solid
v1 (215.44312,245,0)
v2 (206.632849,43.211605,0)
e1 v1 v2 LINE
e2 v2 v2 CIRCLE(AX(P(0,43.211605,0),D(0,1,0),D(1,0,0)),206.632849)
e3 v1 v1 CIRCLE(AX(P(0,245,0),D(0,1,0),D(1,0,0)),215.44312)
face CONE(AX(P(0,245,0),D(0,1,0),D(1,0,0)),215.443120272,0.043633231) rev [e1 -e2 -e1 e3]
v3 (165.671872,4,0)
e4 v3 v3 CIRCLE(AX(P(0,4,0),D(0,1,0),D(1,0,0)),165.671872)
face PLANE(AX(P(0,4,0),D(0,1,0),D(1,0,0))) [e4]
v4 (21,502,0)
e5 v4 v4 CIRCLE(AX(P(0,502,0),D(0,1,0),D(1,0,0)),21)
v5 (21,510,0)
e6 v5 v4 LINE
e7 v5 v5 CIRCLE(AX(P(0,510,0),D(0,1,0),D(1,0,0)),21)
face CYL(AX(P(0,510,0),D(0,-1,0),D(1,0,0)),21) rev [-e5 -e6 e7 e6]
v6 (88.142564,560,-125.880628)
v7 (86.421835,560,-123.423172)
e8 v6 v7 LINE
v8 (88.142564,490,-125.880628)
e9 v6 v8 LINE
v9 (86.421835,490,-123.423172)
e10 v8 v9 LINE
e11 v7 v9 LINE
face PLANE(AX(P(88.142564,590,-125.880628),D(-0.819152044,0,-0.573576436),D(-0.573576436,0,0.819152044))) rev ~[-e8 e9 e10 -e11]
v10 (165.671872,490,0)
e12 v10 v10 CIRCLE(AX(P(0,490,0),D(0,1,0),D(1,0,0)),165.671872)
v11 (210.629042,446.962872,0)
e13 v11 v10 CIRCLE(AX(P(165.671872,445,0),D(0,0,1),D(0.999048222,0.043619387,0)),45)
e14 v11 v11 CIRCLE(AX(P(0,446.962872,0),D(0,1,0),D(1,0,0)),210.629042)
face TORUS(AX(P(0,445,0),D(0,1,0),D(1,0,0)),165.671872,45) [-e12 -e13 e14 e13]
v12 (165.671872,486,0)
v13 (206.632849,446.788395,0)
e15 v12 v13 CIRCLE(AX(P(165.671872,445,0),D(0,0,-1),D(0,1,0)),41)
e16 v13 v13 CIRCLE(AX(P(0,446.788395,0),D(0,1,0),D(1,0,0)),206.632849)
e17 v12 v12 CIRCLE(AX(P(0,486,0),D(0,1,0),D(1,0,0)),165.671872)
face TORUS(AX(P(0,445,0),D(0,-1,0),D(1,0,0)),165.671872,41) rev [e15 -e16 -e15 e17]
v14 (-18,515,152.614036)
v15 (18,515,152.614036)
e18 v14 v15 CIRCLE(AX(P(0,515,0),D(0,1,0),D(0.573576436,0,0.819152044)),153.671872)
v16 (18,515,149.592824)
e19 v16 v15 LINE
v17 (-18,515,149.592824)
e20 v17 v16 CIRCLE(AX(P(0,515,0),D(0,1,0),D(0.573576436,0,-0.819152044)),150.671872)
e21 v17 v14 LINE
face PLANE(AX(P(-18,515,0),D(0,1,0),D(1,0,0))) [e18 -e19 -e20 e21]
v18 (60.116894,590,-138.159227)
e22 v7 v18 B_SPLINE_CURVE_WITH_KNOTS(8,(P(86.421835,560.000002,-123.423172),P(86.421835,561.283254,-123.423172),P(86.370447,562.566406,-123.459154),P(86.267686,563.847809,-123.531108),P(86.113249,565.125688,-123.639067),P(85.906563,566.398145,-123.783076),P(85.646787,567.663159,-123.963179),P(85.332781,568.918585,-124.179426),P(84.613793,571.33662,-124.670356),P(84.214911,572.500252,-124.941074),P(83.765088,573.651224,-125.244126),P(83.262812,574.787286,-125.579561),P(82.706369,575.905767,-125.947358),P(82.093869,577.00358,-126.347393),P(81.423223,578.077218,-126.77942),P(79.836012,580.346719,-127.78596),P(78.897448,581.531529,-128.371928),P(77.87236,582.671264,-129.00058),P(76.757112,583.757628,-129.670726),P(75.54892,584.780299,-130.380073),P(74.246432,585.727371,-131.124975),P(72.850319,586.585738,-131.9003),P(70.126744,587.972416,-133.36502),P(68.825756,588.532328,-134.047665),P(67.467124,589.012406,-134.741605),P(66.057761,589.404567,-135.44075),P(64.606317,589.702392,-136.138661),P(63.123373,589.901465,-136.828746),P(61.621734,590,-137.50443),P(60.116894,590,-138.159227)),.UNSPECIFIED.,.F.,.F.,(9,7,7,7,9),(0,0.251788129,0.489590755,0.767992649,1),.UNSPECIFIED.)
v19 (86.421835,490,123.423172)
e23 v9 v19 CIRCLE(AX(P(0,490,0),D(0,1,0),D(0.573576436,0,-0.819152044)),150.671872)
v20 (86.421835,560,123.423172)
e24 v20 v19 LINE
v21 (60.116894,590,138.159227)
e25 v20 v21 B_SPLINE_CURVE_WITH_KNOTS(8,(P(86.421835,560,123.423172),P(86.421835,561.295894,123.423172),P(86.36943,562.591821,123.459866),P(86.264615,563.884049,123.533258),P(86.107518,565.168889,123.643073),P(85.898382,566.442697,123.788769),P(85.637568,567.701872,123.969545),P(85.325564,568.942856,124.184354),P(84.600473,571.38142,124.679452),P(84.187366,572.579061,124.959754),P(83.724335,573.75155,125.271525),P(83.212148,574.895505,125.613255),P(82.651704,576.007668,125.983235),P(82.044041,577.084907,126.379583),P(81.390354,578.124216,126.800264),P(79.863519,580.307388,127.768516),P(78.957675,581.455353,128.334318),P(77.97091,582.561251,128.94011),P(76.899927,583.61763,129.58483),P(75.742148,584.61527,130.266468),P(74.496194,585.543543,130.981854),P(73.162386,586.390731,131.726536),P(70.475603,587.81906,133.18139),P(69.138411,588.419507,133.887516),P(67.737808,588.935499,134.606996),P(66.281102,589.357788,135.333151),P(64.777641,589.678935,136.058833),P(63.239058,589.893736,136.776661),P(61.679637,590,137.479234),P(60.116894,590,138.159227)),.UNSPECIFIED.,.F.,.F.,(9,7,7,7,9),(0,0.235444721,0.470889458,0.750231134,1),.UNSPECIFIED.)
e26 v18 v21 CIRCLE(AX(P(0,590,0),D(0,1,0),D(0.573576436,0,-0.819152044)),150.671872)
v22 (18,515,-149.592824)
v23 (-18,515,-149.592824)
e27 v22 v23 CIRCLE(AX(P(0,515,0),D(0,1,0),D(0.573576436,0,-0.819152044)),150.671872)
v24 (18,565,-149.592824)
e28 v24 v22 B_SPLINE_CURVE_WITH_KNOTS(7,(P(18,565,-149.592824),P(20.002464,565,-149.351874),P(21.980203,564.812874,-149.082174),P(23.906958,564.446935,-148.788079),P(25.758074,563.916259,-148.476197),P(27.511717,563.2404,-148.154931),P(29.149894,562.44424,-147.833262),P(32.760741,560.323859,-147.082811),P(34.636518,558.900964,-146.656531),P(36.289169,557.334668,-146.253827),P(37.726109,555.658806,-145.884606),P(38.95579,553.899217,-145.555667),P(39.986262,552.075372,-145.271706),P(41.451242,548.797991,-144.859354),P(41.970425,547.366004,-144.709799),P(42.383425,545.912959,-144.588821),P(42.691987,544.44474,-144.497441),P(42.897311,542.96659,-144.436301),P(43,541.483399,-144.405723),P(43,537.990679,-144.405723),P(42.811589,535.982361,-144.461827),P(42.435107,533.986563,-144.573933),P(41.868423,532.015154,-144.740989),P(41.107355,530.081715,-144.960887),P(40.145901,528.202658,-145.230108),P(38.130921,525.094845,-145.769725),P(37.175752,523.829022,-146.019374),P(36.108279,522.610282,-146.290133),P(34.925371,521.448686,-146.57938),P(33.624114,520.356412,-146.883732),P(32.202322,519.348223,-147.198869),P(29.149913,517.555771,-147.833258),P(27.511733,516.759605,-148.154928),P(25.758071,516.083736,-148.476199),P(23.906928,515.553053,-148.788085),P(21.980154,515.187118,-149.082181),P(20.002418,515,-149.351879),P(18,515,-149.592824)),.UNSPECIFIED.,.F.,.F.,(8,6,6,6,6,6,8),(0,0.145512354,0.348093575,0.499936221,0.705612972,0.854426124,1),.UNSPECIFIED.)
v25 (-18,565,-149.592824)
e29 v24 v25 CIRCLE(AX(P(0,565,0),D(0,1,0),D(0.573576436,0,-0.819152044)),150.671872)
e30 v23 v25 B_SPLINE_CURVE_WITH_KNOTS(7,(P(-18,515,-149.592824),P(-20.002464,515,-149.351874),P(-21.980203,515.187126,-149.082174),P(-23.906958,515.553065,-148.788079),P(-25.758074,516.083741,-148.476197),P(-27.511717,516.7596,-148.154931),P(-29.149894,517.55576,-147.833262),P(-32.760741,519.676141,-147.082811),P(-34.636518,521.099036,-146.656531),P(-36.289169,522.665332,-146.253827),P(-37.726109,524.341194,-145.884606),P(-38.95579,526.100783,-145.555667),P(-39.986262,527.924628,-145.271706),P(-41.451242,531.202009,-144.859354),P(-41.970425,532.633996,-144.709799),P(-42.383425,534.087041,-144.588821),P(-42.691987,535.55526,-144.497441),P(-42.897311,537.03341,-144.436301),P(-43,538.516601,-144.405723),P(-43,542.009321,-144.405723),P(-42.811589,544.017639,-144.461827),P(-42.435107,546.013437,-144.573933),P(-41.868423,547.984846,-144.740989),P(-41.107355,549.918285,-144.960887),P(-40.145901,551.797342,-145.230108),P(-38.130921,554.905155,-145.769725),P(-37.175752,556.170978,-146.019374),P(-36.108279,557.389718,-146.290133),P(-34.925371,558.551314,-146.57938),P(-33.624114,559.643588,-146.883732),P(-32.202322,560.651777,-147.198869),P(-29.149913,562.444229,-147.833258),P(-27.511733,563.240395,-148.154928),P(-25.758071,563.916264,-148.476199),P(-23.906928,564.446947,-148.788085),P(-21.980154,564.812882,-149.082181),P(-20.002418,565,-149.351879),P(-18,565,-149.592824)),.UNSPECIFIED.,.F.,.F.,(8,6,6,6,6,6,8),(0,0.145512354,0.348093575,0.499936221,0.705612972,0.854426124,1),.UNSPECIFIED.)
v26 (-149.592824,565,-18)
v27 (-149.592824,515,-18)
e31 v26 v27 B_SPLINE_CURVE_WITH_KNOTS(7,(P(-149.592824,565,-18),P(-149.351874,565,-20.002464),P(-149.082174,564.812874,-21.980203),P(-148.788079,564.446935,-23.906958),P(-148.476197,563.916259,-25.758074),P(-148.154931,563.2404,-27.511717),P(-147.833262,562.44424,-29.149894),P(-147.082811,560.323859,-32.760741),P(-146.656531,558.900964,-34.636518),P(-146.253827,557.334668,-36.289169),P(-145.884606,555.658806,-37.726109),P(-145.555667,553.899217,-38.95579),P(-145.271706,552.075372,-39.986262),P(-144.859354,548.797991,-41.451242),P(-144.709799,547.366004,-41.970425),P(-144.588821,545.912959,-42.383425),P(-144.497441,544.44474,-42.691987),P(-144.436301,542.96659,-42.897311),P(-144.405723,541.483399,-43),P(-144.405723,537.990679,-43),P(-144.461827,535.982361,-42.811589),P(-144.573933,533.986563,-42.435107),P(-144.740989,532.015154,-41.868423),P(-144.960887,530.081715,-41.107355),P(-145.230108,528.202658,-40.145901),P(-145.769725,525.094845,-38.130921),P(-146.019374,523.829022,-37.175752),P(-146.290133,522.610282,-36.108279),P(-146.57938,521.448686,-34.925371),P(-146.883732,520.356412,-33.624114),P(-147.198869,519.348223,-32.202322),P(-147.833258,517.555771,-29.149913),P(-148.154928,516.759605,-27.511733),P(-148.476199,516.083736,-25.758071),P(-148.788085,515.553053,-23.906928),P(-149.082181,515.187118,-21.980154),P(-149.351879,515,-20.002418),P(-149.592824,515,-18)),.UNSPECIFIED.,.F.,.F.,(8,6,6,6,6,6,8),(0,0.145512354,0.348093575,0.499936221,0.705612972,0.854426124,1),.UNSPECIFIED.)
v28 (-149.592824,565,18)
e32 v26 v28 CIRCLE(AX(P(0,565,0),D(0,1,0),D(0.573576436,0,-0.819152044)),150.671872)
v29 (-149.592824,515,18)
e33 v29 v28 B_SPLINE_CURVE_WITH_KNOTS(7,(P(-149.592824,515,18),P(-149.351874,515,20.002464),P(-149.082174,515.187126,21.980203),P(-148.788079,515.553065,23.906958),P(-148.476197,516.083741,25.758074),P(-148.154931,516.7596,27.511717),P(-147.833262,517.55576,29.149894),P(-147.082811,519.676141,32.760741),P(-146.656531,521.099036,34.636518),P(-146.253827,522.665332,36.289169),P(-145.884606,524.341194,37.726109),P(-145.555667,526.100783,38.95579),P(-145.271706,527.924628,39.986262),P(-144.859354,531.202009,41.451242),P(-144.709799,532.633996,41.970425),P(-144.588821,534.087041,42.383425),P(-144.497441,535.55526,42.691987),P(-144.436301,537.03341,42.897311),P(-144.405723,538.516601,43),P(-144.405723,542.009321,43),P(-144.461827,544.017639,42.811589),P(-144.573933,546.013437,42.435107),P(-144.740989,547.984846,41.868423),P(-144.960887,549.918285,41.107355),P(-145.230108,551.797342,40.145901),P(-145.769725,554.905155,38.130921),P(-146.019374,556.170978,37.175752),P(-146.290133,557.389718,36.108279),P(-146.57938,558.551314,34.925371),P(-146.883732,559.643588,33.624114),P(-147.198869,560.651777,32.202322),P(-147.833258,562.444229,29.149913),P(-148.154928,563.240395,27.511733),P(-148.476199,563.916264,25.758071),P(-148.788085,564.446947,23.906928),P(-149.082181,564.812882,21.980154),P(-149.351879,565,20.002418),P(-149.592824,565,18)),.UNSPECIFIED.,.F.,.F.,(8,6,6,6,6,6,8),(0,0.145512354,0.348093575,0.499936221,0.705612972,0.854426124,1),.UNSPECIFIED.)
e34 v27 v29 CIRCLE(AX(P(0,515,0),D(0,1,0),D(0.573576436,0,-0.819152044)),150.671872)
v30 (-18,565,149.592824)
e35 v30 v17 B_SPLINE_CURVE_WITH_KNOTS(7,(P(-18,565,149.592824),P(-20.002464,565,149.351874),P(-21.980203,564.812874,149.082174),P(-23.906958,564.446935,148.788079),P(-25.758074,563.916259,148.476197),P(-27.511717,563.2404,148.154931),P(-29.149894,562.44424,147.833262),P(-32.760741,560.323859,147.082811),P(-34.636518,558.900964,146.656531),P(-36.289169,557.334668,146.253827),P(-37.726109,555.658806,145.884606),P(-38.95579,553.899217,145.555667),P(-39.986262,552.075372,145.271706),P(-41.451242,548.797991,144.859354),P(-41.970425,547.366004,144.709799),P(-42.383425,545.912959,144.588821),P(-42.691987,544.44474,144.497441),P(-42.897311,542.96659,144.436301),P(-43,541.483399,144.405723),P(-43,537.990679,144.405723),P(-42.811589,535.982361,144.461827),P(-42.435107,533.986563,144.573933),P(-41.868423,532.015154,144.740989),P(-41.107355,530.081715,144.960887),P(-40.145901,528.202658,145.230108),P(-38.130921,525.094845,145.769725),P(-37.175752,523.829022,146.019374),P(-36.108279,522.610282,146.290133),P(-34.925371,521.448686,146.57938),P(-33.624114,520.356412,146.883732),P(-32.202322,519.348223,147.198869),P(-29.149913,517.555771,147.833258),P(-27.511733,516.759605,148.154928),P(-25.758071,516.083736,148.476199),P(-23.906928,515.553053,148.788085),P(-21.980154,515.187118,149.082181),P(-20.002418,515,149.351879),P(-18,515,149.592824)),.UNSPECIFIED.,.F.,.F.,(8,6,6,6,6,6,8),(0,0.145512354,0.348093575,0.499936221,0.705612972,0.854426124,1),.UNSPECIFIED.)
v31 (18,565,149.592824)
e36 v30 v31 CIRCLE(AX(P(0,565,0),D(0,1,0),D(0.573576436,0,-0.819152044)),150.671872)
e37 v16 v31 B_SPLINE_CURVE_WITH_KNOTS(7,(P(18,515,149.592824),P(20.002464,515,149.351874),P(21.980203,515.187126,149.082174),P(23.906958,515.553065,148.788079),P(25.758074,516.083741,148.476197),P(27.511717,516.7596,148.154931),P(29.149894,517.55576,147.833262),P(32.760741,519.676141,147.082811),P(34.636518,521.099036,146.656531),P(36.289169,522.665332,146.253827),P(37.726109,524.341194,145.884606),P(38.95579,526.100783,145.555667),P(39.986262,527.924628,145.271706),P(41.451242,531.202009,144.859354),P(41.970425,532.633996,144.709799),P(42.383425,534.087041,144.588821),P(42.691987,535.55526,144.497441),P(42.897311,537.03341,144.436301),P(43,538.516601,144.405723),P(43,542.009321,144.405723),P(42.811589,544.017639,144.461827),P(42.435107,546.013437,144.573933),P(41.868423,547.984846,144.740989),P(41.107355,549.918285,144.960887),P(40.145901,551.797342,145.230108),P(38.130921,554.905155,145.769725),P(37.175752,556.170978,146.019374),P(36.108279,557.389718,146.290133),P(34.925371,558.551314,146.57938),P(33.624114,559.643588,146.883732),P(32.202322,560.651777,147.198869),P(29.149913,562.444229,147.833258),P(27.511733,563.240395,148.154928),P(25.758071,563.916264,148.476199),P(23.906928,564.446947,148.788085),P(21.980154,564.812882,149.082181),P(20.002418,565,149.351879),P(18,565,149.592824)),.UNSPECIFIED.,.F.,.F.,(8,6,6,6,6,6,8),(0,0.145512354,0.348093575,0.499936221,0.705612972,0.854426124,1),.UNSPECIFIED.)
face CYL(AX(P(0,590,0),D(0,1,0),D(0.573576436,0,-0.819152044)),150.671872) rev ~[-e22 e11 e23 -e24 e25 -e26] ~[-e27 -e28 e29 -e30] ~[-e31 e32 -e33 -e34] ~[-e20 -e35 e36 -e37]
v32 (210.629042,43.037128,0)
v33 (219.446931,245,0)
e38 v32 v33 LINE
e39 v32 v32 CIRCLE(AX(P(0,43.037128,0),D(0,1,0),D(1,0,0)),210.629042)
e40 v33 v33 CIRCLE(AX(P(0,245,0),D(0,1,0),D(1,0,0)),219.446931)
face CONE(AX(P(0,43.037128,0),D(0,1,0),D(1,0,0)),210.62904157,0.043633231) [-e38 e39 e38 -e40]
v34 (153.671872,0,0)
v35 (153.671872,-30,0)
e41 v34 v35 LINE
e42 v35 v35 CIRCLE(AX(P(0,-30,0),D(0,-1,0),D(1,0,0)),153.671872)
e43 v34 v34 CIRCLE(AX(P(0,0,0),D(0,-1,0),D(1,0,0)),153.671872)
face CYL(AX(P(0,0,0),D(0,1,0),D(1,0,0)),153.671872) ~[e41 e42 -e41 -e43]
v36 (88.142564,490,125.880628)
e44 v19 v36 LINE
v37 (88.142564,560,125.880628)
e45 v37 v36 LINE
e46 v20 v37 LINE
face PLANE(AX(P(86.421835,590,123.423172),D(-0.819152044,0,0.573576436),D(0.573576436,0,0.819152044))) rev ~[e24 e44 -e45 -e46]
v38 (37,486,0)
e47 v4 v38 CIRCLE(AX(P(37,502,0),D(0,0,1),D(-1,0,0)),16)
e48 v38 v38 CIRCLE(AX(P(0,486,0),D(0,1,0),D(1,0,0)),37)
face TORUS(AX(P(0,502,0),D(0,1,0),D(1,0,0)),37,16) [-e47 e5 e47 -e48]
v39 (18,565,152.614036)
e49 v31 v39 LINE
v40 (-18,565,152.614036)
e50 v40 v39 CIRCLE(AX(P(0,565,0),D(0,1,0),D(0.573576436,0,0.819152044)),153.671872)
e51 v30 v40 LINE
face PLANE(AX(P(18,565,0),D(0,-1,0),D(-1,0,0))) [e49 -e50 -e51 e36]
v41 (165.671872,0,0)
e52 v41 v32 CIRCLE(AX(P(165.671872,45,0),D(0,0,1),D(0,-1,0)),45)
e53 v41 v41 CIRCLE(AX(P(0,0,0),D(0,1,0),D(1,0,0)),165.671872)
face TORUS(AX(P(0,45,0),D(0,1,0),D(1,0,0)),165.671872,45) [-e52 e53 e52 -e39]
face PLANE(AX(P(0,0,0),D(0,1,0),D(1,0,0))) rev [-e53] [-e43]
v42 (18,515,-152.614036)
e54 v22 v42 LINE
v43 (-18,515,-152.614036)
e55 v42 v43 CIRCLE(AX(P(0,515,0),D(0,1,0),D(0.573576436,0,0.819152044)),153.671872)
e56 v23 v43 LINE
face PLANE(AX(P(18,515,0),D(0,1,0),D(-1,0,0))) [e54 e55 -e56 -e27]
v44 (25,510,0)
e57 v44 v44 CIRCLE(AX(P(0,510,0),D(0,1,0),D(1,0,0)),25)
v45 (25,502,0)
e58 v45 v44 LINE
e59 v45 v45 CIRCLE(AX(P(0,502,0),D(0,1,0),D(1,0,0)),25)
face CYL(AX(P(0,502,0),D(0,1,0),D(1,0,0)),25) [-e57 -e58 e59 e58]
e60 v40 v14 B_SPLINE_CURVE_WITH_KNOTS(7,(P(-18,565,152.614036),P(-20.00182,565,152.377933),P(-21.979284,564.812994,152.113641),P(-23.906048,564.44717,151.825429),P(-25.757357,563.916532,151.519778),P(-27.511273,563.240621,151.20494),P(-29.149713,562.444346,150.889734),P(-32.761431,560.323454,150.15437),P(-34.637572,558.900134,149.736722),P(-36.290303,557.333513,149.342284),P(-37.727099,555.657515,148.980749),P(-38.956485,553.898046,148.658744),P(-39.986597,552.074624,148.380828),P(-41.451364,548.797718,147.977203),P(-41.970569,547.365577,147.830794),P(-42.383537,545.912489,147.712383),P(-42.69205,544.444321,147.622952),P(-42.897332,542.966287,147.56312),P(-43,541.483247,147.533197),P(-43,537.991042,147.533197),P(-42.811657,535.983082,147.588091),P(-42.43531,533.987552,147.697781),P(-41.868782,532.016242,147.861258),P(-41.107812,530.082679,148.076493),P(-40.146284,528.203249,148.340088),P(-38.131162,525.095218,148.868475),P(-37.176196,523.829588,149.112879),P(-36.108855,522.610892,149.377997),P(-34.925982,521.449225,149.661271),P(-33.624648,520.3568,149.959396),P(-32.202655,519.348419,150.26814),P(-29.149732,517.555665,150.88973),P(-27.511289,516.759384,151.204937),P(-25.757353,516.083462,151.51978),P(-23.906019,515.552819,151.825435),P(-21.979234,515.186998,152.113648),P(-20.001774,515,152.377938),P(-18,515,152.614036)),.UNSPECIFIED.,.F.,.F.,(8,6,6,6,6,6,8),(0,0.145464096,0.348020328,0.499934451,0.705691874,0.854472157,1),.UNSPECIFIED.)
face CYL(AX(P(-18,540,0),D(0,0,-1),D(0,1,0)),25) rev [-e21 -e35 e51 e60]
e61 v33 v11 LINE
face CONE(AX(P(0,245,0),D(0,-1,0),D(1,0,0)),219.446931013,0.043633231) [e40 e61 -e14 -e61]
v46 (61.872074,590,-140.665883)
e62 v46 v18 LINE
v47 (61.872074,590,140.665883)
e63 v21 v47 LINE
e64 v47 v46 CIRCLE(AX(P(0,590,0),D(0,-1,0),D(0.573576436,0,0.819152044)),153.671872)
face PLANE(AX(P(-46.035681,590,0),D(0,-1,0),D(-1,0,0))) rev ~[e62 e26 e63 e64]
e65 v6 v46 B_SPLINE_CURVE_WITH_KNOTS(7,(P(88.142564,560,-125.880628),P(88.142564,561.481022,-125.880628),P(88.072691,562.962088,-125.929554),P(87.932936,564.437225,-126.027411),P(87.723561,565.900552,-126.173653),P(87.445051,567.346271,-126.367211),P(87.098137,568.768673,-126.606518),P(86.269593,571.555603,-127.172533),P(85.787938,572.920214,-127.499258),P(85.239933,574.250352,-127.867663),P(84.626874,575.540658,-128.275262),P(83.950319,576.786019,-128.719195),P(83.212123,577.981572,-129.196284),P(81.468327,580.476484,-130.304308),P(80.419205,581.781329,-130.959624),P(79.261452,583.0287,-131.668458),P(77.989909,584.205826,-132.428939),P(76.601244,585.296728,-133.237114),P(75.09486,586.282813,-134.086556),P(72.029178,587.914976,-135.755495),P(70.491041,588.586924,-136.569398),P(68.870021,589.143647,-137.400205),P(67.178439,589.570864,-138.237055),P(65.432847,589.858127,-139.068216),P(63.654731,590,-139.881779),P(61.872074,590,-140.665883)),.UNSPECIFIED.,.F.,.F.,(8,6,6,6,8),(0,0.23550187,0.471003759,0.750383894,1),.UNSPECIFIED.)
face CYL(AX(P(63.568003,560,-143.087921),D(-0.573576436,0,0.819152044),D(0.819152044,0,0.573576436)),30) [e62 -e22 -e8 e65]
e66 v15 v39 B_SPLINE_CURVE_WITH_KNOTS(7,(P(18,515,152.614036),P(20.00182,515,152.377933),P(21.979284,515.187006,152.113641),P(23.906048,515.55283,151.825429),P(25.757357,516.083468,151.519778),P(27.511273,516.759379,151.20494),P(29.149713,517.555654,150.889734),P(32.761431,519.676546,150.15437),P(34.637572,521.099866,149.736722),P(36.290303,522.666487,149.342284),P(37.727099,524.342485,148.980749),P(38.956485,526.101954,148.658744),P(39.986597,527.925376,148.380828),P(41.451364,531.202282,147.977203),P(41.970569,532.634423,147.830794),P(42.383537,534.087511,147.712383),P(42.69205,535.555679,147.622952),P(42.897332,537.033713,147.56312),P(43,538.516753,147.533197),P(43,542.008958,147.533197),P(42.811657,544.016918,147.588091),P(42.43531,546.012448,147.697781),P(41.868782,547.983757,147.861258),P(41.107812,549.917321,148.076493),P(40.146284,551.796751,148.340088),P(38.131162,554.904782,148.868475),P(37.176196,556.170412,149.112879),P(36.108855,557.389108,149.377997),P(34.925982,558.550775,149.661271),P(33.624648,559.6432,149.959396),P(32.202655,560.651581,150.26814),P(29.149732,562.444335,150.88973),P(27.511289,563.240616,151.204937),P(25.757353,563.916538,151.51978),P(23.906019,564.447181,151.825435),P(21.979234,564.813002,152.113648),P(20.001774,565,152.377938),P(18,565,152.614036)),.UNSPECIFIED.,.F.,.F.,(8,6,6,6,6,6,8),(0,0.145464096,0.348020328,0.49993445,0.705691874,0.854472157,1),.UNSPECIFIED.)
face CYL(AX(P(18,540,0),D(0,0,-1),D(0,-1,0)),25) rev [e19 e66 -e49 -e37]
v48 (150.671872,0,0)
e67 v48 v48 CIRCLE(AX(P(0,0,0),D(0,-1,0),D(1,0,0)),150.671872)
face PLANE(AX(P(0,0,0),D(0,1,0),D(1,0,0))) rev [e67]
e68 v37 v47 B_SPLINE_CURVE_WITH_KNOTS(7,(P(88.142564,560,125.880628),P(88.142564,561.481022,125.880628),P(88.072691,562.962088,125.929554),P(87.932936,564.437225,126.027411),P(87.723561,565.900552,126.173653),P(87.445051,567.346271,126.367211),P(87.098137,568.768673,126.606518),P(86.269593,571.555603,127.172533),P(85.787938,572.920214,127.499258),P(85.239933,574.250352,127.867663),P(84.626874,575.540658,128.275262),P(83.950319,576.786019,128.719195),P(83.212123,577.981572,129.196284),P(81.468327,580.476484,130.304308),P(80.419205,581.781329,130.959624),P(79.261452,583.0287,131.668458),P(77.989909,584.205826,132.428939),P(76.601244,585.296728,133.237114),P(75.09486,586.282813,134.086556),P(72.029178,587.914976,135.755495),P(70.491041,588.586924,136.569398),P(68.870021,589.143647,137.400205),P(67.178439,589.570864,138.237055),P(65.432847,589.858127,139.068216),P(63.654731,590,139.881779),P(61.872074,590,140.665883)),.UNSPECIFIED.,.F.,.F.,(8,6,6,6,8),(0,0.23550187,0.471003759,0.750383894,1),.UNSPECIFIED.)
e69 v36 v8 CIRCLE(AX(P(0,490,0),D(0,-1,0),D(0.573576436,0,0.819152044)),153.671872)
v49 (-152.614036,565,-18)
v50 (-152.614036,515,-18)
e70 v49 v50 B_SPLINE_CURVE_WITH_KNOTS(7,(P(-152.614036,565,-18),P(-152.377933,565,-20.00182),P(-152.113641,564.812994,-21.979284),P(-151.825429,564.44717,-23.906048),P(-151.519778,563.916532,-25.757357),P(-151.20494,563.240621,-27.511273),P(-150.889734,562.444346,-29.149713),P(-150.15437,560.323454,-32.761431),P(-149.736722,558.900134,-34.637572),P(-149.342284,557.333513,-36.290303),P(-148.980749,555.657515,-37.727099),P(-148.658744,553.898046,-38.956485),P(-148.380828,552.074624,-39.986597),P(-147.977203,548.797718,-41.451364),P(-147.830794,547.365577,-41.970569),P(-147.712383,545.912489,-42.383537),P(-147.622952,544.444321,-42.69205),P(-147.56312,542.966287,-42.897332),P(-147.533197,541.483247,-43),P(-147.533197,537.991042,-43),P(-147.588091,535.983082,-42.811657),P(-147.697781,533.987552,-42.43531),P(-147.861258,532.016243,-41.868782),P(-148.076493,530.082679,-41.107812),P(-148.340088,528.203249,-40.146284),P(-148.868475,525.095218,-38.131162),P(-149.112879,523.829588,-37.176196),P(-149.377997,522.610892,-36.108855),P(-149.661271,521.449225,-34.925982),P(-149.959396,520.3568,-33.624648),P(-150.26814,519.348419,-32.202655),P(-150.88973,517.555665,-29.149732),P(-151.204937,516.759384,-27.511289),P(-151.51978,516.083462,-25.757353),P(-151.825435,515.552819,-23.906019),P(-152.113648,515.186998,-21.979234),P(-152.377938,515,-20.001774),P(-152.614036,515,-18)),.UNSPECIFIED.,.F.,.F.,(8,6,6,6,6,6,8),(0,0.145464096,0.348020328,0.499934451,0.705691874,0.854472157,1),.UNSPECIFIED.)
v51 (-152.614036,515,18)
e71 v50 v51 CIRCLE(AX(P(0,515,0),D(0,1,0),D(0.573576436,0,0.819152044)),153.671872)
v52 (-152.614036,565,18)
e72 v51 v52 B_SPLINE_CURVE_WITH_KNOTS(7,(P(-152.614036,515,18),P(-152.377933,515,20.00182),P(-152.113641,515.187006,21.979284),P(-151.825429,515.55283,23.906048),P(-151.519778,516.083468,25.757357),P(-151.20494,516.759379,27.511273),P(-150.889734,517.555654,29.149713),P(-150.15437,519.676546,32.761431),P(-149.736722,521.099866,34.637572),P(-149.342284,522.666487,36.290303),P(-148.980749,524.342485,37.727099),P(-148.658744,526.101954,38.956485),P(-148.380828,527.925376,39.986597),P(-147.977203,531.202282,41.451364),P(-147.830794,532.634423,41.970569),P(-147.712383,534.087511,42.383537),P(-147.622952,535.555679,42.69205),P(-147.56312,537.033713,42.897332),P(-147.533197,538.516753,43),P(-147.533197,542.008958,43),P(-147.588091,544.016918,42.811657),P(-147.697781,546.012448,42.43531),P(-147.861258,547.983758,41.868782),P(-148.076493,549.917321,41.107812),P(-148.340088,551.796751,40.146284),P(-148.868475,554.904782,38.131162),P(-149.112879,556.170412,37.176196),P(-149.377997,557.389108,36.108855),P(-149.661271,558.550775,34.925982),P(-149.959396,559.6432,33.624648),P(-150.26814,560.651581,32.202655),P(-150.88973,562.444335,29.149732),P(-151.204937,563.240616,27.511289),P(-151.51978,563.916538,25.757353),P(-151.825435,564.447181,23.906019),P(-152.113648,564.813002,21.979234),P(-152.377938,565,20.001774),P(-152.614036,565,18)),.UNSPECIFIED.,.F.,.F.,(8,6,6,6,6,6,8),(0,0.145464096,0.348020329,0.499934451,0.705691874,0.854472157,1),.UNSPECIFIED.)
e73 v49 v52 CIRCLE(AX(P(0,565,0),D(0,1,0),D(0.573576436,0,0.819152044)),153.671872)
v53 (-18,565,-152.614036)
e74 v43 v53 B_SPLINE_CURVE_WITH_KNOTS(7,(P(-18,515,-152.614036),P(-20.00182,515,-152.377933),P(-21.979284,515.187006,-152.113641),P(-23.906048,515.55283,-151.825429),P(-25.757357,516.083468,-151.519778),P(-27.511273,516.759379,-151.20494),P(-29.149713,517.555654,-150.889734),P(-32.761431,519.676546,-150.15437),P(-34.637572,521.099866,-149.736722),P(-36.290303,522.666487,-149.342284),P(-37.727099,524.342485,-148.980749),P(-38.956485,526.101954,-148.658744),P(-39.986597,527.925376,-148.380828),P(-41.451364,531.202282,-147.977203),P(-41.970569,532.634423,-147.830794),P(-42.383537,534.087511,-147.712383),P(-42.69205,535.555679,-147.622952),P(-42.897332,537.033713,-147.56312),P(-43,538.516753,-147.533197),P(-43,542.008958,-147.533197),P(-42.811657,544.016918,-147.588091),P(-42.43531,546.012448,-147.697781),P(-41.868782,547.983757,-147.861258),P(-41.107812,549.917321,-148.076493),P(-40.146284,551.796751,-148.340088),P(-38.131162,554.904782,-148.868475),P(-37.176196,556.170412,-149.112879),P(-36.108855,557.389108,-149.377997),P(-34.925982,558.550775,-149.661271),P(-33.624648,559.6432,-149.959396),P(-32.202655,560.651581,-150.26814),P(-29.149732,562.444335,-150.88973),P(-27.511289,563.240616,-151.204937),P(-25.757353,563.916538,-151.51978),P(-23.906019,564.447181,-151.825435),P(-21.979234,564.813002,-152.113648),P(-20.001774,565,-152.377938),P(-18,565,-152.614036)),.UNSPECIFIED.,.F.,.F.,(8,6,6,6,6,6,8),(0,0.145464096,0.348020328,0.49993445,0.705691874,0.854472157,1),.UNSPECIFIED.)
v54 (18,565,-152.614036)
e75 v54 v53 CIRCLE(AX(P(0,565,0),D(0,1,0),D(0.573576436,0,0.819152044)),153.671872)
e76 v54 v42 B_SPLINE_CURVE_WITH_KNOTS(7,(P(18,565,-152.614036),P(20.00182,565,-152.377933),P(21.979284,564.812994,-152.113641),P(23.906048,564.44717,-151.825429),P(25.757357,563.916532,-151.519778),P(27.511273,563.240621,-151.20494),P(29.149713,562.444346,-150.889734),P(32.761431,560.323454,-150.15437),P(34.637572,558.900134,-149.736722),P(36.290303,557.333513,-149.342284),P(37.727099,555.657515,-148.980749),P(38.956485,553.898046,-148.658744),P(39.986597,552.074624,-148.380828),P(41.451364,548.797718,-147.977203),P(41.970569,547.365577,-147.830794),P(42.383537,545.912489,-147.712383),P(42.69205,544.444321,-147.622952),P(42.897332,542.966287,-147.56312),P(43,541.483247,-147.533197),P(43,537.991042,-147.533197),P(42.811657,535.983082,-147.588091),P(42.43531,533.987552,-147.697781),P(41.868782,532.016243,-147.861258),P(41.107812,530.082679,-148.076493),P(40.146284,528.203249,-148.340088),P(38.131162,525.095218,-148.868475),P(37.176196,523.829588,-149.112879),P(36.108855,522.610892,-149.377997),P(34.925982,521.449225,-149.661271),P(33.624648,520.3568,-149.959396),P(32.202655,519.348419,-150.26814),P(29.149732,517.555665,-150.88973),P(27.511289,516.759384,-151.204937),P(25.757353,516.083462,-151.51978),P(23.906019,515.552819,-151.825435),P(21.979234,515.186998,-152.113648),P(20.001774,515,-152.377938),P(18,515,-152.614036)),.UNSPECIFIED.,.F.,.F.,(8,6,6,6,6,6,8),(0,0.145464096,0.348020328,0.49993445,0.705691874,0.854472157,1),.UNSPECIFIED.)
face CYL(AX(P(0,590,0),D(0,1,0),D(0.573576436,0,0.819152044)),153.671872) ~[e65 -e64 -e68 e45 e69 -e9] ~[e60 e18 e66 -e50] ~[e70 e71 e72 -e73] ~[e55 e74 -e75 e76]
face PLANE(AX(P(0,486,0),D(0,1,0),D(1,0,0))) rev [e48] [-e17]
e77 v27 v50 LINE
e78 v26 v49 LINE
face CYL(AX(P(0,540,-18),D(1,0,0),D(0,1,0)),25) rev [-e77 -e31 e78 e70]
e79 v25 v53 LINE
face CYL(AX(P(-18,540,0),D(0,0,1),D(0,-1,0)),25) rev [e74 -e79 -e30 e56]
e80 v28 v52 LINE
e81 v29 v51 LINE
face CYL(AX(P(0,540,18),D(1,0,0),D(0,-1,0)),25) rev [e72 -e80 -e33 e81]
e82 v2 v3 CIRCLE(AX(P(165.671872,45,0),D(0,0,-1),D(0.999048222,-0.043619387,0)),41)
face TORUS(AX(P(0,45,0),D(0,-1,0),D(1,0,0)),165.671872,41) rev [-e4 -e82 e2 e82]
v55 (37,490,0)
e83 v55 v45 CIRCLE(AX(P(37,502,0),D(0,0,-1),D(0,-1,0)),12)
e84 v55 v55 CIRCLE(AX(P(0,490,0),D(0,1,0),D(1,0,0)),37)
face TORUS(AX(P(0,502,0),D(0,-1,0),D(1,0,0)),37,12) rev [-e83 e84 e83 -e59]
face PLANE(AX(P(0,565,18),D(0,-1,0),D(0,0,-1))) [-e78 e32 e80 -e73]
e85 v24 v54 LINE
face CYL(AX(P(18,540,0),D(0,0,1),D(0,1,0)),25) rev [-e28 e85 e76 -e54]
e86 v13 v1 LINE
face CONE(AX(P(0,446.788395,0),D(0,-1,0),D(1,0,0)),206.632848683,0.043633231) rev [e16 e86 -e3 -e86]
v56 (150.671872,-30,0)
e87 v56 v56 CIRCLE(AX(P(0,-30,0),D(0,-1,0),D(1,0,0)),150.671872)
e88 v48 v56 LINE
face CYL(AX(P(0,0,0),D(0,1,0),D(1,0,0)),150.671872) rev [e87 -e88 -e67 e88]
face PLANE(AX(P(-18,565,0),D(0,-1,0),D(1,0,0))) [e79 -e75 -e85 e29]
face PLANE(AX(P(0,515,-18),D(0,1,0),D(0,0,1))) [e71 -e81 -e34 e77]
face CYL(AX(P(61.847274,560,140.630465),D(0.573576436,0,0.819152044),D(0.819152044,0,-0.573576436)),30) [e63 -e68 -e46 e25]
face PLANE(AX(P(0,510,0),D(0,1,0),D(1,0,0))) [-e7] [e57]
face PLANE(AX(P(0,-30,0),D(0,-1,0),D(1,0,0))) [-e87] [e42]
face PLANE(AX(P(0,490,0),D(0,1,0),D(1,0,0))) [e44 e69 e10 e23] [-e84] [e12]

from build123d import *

# Parameters (mm, degrees)
SKETCH3_R           = 153.671871599
SKETCH3_R_2         = 150.671871599
BOSS_EXTRUDE1_DEPTH = 30
BOSS_EXTRUDE2_START = 100
BOSS_EXTRUDE2_DEPTH = 100
CUT_EXTRUDE1_DEPTH  = 667.643766236
CIRPATTERN1_COUNT   = 4
FILLET1_R           = 30


with BuildPart() as part:
    # Sketch1 → Revolve1 (revolve)
    with BuildSketch(Plane.XY):
        with BuildLine():
            Line((0, 0), (165.671871599, 0))
            ThreePointArc((165.671871599, 0), (196.789959109, 12.493621707), (210.62904157, 43.037127569))
            Line((210.62904157, 43.037127569), (219.446931013, 245))
            Line((219.446931013, 245), (210.62904157, 446.962872431))
            ThreePointArc((210.62904157, 446.962872431), (196.789959109, 477.506378293), (165.671871599, 490))
            Line((165.671871599, 490), (37, 490))
            ThreePointArc((37, 490), (28.514718626, 493.514718626), (25, 502))
            Line((25, 502), (25, 510))
            Line((25, 510), (21, 510))
            Line((21, 510), (21, 502))
            ThreePointArc((21, 502), (25.686291501, 490.686291501), (37, 486))
            Line((37, 486), (165.671871599, 486))
            ThreePointArc((165.671871599, 486), (194.023906886, 474.616922444), (206.632848683, 446.788394882))
            Line((206.632848683, 446.788394882), (215.443120272, 245))
            Line((215.443120272, 245), (206.632848683, 43.211605118))
            ThreePointArc((206.632848683, 43.211605118), (194.023906886, 15.383077556), (165.671871599, 4))
            Line((165.671871599, 4), (0, 4))
            Line((0, 4), (0, 0))
        make_face()
    revolve(axis=Axis((0, -5395.196891383, 0), (0, 1, 0)))

    # Sketch3 → Boss-Extrude1 (add)
    with BuildSketch(Plane.XZ):
        Circle(SKETCH3_R)
        Circle(SKETCH3_R_2, mode=Mode.SUBTRACT)
    extrude(amount=BOSS_EXTRUDE1_DEPTH)

    # Sketch4 → Boss-Extrude2 (add)
    with BuildSketch(Plane(origin=(0, 490, 0), x_dir=(1, 0, 0), z_dir=(0, 1, 0)).offset(BOSS_EXTRUDE2_START)):
        with BuildLine():
            Line((88.142564479, 125.88062777), (86.42183517, 123.423171637))
            ThreePointArc((86.42183517, 123.423171637), (-150.671871599, 0), (86.42183517, -123.423171637))
            Line((86.42183517, -123.423171637), (88.142564479, -125.88062777))
            ThreePointArc((88.142564479, -125.88062777), (-153.671871599, 0), (88.142564479, 125.88062777))
        make_face()
    extrude(amount=-BOSS_EXTRUDE2_DEPTH)

    # Sketch5 → Cut-Extrude1 (cut, through all)
    with BuildSketch(Plane.XY):
        with BuildLine():
            Line((-18, 565), (18, 565))
            ThreePointArc((18, 565), (43, 540), (18, 515))
            Line((18, 515), (-18, 515))
            ThreePointArc((-18, 515), (-43, 540), (-18, 565))
        make_face()
    cut_extrude1 = extrude(amount=-CUT_EXTRUDE1_DEPTH, mode=Mode.SUBTRACT)

    # CirPattern1: Cut-Extrude1 ×4 about axis
    cirpattern1_axis = Axis((0, 245, 0), (0, -1, 0))
    for i in range(1, CIRPATTERN1_COUNT):
        add(cut_extrude1.rotate(cirpattern1_axis, i * 360 / CIRPATTERN1_COUNT), mode=Mode.SUBTRACT)

    # Fillet1
    fillet1_edges = [part.edges().sort_by_distance(p)[0] for p in [
        (87.282199824, 590, -124.651899703),
        (87.282199824, 590, 124.651899703),
    ]]
    fillet(fillet1_edges, radius=FILLET1_R)


solid = part.part
